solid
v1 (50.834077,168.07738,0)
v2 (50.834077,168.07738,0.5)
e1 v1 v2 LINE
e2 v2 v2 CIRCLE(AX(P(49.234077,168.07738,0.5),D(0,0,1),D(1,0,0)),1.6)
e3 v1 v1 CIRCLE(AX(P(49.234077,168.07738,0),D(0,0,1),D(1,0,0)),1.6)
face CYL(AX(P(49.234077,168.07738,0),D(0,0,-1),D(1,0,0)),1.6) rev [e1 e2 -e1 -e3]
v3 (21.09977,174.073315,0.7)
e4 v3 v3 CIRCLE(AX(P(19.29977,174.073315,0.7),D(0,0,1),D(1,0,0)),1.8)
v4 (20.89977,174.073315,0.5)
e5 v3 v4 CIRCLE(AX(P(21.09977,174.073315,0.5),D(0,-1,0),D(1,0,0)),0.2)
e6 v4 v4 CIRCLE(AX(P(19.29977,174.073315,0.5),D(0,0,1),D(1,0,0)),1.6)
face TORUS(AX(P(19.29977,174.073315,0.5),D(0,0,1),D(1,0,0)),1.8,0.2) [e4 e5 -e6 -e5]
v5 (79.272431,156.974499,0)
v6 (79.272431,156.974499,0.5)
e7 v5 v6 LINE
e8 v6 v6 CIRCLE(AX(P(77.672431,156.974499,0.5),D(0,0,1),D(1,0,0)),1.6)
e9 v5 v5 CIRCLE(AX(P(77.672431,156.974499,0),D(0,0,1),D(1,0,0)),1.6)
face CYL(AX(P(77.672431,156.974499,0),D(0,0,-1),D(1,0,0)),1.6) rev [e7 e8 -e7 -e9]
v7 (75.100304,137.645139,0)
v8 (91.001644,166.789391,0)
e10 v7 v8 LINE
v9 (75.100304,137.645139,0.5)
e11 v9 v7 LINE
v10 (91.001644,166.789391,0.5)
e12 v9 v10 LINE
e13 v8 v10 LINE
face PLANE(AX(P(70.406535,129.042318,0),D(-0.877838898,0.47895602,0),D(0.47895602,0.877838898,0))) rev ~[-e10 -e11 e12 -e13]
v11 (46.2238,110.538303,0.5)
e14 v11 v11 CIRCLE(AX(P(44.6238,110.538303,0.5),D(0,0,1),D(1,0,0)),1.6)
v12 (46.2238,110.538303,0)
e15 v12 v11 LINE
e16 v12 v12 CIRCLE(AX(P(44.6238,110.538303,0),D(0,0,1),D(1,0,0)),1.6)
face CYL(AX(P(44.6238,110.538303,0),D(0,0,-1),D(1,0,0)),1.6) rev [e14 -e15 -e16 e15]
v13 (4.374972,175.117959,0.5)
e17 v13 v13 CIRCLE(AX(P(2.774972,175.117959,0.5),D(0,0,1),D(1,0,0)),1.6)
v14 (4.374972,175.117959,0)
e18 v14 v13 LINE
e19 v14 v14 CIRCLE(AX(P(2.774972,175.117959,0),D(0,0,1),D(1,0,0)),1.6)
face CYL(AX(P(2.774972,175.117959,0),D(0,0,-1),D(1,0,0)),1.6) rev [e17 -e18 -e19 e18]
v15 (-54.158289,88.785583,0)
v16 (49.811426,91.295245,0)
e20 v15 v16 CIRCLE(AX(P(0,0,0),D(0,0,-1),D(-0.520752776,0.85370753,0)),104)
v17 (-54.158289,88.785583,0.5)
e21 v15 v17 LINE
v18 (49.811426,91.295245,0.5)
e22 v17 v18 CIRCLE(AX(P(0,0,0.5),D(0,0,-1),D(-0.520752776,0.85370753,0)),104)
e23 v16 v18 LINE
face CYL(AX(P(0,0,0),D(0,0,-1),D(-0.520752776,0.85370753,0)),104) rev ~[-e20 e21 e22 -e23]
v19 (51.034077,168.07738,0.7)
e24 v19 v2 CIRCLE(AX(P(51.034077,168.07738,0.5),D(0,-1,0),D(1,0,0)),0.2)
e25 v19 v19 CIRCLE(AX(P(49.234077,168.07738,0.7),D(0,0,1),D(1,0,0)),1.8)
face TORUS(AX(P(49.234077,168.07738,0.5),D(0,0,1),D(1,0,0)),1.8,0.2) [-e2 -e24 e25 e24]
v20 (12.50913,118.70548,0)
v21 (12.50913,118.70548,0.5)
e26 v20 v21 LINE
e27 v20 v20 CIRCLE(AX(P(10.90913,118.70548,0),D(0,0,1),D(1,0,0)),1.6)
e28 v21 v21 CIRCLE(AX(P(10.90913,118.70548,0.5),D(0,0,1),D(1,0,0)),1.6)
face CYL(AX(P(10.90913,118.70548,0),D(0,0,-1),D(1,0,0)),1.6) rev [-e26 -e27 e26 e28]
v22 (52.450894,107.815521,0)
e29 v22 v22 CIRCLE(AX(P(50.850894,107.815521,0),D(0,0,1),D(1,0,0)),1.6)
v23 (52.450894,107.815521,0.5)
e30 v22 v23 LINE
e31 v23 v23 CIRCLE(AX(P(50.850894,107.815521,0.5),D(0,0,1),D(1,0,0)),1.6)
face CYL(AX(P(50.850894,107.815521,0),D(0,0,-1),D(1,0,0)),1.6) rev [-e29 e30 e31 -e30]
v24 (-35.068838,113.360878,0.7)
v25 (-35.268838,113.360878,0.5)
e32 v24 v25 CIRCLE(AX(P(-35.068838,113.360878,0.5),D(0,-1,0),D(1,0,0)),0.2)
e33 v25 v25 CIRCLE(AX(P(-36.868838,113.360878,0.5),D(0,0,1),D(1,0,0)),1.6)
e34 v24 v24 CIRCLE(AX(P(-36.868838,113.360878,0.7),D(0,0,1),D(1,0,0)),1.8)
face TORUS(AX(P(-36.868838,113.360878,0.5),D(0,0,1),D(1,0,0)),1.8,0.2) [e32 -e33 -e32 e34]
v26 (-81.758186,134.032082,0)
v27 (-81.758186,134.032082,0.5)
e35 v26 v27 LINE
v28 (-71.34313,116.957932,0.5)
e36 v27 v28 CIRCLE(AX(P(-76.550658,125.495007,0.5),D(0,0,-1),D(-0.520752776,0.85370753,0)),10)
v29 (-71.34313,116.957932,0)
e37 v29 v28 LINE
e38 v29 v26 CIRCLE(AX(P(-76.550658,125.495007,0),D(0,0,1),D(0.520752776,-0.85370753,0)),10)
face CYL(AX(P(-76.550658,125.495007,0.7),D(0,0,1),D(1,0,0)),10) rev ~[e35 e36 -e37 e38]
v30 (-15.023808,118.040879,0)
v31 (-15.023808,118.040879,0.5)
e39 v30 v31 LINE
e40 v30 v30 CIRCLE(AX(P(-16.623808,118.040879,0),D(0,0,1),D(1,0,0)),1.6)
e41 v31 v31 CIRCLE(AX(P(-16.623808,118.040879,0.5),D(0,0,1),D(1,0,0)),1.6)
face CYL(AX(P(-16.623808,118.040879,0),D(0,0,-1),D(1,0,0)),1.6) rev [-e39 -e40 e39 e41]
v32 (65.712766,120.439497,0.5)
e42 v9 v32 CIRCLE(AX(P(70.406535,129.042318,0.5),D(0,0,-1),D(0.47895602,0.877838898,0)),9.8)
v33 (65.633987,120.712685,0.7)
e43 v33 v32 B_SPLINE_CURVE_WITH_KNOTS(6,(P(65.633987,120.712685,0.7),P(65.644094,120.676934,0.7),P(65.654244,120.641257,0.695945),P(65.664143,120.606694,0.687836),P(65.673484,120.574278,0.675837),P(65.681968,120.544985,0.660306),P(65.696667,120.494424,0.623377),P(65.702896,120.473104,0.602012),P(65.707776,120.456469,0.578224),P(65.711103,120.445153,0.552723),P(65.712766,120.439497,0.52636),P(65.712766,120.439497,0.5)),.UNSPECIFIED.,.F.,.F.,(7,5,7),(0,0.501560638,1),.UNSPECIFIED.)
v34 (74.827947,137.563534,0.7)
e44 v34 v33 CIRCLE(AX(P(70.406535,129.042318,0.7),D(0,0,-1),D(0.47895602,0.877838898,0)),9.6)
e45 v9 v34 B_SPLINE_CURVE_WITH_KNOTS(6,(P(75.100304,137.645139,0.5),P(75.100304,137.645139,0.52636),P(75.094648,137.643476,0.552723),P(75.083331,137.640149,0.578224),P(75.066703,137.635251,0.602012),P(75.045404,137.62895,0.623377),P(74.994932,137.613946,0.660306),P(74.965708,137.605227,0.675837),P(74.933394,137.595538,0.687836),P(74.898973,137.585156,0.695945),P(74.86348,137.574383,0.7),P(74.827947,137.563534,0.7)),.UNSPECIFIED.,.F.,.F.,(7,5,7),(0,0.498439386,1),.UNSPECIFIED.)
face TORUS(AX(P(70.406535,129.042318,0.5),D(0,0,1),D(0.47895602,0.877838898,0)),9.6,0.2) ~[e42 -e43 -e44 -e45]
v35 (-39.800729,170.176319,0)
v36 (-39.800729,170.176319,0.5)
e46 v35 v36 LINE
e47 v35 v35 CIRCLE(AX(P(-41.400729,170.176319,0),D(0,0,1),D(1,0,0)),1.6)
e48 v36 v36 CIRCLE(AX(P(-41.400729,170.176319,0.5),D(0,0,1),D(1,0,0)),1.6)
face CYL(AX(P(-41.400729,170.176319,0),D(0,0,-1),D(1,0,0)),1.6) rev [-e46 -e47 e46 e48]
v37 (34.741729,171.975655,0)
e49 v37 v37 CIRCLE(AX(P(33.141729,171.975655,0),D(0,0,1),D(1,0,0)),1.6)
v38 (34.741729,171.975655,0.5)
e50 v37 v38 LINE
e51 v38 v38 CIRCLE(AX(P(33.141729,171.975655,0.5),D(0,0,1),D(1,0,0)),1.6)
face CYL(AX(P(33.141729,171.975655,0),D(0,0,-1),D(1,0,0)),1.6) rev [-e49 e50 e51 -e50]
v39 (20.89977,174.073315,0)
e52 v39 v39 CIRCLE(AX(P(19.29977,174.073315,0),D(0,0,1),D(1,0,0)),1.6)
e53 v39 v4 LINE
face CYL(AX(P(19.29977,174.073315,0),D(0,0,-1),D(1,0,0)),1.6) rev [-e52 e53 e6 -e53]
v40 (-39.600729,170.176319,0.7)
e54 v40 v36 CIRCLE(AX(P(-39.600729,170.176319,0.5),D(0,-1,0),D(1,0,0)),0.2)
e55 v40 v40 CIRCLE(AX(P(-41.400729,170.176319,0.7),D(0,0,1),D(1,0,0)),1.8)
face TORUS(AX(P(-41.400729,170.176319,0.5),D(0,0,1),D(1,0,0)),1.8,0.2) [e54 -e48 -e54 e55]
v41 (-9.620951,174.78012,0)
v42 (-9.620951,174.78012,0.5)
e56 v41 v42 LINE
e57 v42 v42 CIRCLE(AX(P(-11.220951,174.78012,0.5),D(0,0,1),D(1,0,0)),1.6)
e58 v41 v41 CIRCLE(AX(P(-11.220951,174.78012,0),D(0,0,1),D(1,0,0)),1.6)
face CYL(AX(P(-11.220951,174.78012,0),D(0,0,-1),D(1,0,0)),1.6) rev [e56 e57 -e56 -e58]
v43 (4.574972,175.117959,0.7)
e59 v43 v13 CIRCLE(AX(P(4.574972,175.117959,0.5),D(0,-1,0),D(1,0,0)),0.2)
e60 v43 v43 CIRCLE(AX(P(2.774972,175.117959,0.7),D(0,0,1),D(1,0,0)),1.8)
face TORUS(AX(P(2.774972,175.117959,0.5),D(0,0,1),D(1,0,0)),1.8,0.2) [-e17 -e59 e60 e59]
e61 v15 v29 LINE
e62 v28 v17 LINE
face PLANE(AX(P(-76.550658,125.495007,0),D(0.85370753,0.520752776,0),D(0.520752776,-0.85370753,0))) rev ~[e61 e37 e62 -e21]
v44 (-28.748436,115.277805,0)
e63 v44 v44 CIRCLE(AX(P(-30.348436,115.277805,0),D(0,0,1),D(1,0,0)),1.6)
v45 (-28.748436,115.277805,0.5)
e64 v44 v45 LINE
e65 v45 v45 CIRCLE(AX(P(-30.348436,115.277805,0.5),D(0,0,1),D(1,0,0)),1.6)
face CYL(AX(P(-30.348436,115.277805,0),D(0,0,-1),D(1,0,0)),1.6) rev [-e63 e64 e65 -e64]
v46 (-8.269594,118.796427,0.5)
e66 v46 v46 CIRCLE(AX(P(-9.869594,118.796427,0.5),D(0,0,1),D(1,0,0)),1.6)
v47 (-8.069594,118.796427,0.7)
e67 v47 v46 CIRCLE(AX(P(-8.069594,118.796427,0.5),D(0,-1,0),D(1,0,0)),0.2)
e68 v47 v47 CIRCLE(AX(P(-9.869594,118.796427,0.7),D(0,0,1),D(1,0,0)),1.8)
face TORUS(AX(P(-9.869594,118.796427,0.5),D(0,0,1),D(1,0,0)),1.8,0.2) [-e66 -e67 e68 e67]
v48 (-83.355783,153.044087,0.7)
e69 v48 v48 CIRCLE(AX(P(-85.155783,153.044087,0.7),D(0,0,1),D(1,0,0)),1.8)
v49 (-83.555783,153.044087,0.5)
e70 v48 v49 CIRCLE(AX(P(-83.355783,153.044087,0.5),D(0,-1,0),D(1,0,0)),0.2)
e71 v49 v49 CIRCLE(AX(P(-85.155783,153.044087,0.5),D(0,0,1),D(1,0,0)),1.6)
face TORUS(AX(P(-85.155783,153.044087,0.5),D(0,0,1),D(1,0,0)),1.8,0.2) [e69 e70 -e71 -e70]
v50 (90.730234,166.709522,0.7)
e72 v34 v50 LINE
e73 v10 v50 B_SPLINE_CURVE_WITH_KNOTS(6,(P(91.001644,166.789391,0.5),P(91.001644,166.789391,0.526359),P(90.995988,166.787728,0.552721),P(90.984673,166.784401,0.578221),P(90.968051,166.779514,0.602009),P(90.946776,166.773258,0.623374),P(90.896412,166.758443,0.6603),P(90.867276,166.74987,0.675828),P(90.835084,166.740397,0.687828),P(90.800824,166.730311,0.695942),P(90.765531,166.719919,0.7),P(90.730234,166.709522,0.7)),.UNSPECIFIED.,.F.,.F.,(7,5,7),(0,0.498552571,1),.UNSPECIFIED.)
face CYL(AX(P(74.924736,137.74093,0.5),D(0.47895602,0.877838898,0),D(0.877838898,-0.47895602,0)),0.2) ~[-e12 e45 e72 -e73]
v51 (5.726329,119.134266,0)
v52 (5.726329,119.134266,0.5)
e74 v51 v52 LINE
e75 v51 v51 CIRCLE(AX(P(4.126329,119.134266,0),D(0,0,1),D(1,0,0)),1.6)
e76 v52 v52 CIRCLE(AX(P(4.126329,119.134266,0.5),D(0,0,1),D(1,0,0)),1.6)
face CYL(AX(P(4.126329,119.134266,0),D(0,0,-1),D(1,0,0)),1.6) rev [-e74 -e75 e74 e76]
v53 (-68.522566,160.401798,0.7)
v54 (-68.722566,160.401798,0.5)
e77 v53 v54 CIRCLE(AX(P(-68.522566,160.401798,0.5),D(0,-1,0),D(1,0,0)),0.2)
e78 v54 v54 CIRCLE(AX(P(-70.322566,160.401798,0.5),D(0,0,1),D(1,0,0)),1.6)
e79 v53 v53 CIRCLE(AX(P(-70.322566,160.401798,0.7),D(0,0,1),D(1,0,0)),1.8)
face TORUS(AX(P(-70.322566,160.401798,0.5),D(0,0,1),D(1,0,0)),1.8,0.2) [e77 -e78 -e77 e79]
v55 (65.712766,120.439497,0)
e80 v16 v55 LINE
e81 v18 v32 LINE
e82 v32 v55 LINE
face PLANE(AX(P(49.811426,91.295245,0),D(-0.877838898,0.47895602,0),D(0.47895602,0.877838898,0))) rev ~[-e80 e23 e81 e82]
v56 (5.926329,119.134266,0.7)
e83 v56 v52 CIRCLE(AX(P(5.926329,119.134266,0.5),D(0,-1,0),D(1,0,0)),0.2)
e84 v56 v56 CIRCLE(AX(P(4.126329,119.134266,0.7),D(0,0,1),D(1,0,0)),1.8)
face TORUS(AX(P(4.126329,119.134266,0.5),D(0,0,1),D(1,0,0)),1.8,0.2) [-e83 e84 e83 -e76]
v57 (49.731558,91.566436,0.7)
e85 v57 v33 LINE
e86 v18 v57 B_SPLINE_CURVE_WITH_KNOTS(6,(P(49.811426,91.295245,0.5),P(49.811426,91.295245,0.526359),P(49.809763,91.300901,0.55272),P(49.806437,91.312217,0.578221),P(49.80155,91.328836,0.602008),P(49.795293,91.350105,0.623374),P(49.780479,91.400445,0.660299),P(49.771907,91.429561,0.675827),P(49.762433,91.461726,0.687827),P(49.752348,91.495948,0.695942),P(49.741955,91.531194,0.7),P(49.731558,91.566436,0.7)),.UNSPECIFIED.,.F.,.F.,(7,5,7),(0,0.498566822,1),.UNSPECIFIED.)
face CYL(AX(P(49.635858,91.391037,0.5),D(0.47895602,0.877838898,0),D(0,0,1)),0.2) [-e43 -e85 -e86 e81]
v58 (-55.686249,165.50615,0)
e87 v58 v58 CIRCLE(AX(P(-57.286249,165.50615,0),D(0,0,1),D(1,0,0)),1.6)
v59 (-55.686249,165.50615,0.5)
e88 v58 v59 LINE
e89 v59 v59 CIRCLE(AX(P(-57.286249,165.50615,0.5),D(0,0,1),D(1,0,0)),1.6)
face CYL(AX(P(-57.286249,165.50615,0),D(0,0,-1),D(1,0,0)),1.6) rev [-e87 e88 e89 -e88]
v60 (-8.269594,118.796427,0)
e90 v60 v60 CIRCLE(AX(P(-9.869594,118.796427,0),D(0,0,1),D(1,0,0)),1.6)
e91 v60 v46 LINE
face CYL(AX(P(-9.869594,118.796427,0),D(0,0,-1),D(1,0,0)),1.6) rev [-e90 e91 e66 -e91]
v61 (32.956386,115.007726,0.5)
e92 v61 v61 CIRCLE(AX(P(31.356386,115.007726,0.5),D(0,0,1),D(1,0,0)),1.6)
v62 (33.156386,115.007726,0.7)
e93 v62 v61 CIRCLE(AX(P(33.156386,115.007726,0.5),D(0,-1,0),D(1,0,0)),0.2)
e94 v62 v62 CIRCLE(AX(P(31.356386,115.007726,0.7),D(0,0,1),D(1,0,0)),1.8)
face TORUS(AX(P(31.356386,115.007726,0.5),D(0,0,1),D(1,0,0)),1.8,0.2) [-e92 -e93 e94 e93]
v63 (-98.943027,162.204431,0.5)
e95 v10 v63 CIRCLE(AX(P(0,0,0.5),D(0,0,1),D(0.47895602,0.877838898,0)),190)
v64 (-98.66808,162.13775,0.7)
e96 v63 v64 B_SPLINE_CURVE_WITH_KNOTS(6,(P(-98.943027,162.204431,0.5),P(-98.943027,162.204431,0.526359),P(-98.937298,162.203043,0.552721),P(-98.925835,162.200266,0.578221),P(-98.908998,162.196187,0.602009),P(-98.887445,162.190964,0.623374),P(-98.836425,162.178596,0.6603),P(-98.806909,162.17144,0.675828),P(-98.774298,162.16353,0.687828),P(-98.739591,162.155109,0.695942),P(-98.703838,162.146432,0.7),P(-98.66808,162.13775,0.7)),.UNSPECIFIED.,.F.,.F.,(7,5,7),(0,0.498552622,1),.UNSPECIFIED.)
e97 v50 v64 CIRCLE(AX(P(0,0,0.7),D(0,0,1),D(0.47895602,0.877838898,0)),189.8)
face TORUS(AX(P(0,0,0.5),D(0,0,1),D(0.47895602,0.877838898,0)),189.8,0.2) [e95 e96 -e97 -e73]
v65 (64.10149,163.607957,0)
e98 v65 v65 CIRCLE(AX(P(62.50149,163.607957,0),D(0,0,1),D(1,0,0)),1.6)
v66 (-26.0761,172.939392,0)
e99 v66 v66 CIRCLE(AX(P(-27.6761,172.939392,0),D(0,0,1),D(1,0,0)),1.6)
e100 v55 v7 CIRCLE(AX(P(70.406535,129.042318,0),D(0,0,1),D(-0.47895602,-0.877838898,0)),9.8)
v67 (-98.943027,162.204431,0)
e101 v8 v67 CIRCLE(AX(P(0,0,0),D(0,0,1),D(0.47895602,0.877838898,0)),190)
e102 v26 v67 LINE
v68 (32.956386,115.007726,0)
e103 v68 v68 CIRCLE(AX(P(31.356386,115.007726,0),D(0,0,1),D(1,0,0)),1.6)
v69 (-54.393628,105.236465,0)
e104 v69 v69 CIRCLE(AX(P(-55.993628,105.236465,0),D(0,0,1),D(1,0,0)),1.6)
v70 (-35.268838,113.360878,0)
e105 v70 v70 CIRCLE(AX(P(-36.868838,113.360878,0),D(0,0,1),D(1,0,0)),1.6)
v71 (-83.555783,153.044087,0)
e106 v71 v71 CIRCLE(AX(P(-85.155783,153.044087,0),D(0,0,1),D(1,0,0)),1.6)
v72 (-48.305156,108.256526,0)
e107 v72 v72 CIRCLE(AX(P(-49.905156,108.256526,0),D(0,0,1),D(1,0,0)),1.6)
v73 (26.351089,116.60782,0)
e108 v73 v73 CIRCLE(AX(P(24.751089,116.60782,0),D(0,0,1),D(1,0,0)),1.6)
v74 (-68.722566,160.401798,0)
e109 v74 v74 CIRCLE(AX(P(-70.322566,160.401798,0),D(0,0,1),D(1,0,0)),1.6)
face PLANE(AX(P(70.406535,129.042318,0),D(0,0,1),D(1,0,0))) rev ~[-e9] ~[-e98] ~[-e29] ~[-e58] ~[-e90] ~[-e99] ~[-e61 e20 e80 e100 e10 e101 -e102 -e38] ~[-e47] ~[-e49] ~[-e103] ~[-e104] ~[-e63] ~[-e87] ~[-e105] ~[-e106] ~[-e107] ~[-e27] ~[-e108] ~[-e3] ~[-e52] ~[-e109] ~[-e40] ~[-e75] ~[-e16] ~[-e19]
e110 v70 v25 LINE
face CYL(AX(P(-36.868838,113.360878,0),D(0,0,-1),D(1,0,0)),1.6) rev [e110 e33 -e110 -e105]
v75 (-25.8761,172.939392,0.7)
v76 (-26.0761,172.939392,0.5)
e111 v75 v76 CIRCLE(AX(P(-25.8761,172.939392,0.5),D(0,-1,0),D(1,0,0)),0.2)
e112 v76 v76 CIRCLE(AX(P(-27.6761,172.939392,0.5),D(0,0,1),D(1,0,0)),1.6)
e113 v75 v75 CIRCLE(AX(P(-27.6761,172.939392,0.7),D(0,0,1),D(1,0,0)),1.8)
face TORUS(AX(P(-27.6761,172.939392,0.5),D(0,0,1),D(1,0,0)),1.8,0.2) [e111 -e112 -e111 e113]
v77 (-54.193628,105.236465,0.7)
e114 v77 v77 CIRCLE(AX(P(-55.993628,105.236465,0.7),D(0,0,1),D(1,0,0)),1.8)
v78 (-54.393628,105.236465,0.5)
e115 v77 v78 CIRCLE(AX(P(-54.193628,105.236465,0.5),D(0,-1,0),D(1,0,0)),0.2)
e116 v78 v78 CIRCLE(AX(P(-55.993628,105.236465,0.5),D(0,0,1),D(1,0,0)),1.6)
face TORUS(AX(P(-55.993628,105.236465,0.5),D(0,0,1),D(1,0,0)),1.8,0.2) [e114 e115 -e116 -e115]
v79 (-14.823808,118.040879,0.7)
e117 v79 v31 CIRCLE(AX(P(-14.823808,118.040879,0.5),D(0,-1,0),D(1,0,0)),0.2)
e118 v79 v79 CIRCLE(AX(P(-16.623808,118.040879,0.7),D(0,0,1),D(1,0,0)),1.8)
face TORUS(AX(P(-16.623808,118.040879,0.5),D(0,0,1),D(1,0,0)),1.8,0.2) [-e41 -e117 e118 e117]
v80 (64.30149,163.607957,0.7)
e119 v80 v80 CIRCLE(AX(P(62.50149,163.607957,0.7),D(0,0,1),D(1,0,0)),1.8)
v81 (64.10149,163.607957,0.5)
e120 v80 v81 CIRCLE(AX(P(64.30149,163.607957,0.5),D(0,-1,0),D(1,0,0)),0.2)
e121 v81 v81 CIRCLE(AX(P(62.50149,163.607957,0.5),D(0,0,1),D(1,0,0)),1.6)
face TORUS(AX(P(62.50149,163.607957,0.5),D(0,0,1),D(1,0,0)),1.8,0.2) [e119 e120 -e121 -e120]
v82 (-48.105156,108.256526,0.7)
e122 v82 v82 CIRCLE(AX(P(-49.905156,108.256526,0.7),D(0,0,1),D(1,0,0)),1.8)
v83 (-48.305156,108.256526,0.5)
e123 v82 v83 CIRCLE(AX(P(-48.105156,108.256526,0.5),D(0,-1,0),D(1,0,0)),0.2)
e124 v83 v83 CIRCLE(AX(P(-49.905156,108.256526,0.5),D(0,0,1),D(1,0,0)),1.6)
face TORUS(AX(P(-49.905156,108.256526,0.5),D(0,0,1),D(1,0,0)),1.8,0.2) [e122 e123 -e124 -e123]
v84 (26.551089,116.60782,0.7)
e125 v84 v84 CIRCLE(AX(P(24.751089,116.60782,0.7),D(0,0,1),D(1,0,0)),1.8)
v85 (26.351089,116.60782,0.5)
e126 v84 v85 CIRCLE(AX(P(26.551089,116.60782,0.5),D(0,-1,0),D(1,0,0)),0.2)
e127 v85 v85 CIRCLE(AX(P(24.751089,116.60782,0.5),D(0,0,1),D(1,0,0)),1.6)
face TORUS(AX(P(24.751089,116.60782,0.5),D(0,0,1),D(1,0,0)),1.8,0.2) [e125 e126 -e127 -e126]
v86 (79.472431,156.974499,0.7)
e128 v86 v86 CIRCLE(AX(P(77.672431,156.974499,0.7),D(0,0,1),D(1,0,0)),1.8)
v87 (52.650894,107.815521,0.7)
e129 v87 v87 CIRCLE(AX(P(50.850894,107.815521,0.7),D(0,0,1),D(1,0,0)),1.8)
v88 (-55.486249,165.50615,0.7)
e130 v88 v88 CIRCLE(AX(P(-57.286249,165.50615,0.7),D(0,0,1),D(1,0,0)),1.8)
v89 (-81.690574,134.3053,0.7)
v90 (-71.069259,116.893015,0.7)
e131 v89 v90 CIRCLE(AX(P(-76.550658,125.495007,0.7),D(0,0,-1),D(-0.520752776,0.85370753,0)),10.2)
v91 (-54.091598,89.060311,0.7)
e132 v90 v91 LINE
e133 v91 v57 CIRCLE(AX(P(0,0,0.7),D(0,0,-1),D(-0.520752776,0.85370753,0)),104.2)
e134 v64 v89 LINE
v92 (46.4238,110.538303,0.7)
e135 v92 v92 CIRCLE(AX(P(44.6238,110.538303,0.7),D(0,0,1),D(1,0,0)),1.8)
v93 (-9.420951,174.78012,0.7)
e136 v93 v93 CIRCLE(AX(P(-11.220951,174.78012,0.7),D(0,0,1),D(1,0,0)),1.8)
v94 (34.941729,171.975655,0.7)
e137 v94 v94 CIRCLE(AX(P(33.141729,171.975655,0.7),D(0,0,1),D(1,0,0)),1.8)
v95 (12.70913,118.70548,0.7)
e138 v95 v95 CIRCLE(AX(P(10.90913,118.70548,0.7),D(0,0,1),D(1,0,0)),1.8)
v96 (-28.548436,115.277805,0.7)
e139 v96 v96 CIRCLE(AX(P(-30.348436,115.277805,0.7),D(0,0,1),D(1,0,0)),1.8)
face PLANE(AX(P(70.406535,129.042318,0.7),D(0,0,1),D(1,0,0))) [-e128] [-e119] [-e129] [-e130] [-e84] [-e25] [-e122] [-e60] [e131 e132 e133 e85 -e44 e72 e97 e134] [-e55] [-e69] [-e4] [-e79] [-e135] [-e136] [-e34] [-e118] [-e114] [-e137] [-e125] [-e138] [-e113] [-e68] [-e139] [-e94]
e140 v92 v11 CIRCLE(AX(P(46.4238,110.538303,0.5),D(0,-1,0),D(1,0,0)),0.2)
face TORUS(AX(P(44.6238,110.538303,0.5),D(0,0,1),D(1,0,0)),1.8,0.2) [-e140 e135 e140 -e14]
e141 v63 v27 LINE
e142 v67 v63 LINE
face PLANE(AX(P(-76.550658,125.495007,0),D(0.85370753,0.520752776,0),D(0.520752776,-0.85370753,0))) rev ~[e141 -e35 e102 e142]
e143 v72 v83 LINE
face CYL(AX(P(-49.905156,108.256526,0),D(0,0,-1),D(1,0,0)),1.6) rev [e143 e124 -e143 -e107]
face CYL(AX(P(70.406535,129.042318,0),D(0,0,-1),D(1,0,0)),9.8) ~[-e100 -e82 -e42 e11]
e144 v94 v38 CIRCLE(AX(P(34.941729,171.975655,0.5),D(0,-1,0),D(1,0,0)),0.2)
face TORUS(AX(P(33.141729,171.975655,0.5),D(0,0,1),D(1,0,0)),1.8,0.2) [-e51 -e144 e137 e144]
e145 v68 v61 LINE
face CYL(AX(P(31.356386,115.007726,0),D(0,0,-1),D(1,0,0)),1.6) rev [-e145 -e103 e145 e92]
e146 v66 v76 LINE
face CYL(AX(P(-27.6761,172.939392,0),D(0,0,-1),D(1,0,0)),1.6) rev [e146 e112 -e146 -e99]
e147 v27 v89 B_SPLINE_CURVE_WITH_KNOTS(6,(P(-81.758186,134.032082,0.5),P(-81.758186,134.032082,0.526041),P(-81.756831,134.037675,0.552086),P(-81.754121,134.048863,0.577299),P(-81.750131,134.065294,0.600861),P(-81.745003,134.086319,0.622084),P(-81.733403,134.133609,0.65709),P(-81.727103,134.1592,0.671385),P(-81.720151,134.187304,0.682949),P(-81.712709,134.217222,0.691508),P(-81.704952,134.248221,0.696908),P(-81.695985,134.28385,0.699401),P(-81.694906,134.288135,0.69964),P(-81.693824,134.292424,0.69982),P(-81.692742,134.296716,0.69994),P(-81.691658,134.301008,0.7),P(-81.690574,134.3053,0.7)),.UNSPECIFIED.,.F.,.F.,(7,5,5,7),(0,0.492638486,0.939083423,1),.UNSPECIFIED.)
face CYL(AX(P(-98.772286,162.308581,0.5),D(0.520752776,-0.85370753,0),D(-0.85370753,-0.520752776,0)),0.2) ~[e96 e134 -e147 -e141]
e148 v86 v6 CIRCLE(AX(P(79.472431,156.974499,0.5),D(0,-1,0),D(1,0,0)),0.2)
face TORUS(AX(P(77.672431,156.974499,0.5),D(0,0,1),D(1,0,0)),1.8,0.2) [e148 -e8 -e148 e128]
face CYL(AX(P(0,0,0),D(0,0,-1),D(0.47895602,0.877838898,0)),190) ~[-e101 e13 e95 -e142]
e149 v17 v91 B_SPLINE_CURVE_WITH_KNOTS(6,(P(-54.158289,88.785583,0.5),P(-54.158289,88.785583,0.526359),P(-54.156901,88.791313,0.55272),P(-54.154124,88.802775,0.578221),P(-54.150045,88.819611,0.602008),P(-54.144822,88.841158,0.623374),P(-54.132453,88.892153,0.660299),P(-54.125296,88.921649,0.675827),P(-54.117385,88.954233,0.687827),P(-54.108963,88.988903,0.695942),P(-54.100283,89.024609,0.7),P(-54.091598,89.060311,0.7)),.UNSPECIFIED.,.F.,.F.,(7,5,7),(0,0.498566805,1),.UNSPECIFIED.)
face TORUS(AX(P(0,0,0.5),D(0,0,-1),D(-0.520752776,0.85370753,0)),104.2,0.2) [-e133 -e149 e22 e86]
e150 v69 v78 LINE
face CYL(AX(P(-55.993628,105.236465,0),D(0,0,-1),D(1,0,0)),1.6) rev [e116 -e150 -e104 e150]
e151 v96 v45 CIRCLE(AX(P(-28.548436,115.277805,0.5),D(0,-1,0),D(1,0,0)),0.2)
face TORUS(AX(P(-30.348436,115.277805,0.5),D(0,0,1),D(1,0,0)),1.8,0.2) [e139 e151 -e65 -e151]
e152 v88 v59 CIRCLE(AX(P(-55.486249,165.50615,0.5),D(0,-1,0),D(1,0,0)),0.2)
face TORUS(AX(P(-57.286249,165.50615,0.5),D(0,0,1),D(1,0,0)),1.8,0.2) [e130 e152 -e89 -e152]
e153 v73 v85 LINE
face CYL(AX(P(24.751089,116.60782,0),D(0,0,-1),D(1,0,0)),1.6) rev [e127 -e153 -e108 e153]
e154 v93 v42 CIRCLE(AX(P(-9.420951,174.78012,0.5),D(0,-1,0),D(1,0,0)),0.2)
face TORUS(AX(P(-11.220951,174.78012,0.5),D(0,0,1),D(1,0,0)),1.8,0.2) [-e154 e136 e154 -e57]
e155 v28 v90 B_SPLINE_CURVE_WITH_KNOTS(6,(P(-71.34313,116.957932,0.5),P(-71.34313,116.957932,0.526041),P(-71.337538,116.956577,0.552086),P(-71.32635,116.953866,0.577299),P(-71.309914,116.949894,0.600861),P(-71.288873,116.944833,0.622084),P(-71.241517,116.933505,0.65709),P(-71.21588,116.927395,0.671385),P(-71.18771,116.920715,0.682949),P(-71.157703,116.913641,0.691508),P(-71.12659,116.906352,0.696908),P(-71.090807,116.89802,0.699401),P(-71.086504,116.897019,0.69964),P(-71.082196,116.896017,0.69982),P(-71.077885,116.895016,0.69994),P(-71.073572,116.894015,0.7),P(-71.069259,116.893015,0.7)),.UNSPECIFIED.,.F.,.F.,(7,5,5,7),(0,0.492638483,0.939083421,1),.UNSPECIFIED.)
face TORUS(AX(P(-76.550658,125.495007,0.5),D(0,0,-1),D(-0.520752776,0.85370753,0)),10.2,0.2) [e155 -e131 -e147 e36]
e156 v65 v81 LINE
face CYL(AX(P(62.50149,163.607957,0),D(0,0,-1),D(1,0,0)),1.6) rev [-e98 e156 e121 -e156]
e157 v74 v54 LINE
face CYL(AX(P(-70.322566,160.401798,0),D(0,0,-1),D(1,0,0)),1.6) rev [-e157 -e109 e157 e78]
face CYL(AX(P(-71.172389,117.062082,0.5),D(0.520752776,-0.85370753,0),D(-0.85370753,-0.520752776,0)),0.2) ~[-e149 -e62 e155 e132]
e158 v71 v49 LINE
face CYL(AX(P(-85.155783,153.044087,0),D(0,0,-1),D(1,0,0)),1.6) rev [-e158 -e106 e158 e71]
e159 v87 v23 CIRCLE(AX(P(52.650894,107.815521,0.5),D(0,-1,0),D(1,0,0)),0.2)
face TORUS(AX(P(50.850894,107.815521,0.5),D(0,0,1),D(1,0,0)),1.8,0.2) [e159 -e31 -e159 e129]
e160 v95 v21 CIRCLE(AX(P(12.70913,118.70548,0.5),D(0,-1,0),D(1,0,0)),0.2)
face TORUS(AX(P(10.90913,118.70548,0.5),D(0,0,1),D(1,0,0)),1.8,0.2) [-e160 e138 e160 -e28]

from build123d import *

# Parameters (mm, degrees)
SKETCH1_R           = 1.6
BOSS_EXTRUDE1_DEPTH = 0.7
SKETCH2_R           = 10
CUT_EXTRUDE1_DEPTH  = 215.220009974
SKETCH3_R           = 9.8
BOSS_EXTRUDE2_DEPTH = 0.7
FILLET1_R           = 0.2


with BuildPart() as part:
    # Sketch1 → Boss-Extrude1 (new body)
    # profile 1 of 2: a face of its own
    with BuildSketch(Plane.XY):
        with BuildLine():
            Line((-98.94302741, 162.204430664), (-76.550658049, 125.495006882))
            ThreePointArc((-76.550658049, 125.495006882), (-3.547311106, 146.957193032), (70.406534983, 129.042317988))
            Line((70.406534983, 129.042317988), (91.001643856, 166.789390596))
            ThreePointArc((91.001643856, 166.789390596), (-4.584959933, 189.944671266), (-98.94302741, 162.204430664))
        make_face()
        with Locations((-85.155783064, 153.044087147)):
            Circle(SKETCH1_R, mode=Mode.SUBTRACT)
        with Locations((-70.322566445, 160.401797523)):
            Circle(SKETCH1_R, mode=Mode.SUBTRACT)
        with Locations((-57.286248539, 165.506150122)):
            Circle(SKETCH1_R, mode=Mode.SUBTRACT)
        with Locations((-41.400728813, 170.17631931)):
            Circle(SKETCH1_R, mode=Mode.SUBTRACT)
        with Locations((-27.676100341, 172.939392476)):
            Circle(SKETCH1_R, mode=Mode.SUBTRACT)
        with Locations((-11.220950985, 174.780119748)):
            Circle(SKETCH1_R, mode=Mode.SUBTRACT)
        with Locations((2.774972161, 175.117958901)):
            Circle(SKETCH1_R, mode=Mode.SUBTRACT)
        with Locations((19.299769761, 174.07331469)):
            Circle(SKETCH1_R, mode=Mode.SUBTRACT)
        with Locations((33.141728538, 171.975654758)):
            Circle(SKETCH1_R, mode=Mode.SUBTRACT)
        with Locations((62.501490265, 163.60795737)):
            Circle(SKETCH1_R, mode=Mode.SUBTRACT)
        with Locations((77.672431266, 156.97449927)):
            Circle(SKETCH1_R, mode=Mode.SUBTRACT)
        with Locations((49.234076768, 168.077380051)):
            Circle(SKETCH1_R, mode=Mode.SUBTRACT)
    # profile 2 of 2: a face of its own
    with BuildSketch(Plane.XY):
        with BuildLine():
            ThreePointArc((70.406534983, 129.042317988), (-3.547311106, 146.957193032), (-76.550658049, 125.495006882))
            Line((-76.550658049, 125.495006882), (-54.158288688, 88.7855831))
            ThreePointArc((-54.158288688, 88.7855831), (-2.509662279, 103.969714798), (49.811426111, 91.295245379))
            Line((49.811426111, 91.295245379), (70.406534983, 129.042317988))
        make_face()
        with Locations((-55.993627617, 105.236465478)):
            Circle(SKETCH1_R, mode=Mode.SUBTRACT)
        with Locations((-49.905156048, 108.2565259)):
            Circle(SKETCH1_R, mode=Mode.SUBTRACT)
        with Locations((-36.868838142, 113.360878499)):
            Circle(SKETCH1_R, mode=Mode.SUBTRACT)
        with Locations((-30.348436148, 115.277805424)):
            Circle(SKETCH1_R, mode=Mode.SUBTRACT)
        with Locations((-16.623807677, 118.04087859)):
            Circle(SKETCH1_R, mode=Mode.SUBTRACT)
        with Locations((-9.869594373, 118.796427164)):
            Circle(SKETCH1_R, mode=Mode.SUBTRACT)
        with Locations((10.909130033, 118.705479578)):
            Circle(SKETCH1_R, mode=Mode.SUBTRACT)
        with Locations((24.751088811, 116.607819646)):
            Circle(SKETCH1_R, mode=Mode.SUBTRACT)
        with Locations((31.356386043, 115.007726064)):
            Circle(SKETCH1_R, mode=Mode.SUBTRACT)
        with Locations((44.623799539, 110.538303382)):
            Circle(SKETCH1_R, mode=Mode.SUBTRACT)
        with Locations((4.126328773, 119.134266317)):
            Circle(SKETCH1_R, mode=Mode.SUBTRACT)
        with Locations((50.85089413, 107.815520989)):
            Circle(SKETCH1_R, mode=Mode.SUBTRACT)
    extrude(amount=BOSS_EXTRUDE1_DEPTH)

    # Sketch2 → Cut-Extrude1 (cut, through all)
    with BuildSketch(Plane.XY.offset(0.7)):
        with Locations((-76.550658049, 125.495006882)):
            Circle(SKETCH2_R)
    extrude(amount=-CUT_EXTRUDE1_DEPTH, mode=Mode.SUBTRACT)

    # Sketch3 → Boss-Extrude2 (add)
    with BuildSketch(Plane.XY):
        with Locations((70.406534983, 129.042317988)):
            Circle(SKETCH3_R)
    extrude(amount=BOSS_EXTRUDE2_DEPTH)

    # Fillet1
    fillet1_edges = [part.edges().sort_by_distance(p)[0] for p in [
        (9.309130033, 118.705479578, 0.7),
        (-18.223807677, 118.04087859, 0.7),
        (-31.948436148, 115.277805424, 0.7),
        (-57.593627617, 105.236465478, 0.7),
        (-51.505156048, 108.2565259, 0.7),
        (-38.468838142, 113.360878499, 0.7),
        (-11.469594373, 118.796427164, 0.7),
        (2.526328773, 119.134266317, 0.7),
        (29.756386043, 115.007726064, 0.7),
        (43.023799539, 110.538303382, 0.7),
        (47.634076768, 168.077380051, 0.7),
        (60.901490265, 163.60795737, 0.7),
        (-12.820950985, 174.780119748, 0.7),
        (1.174972161, 175.117958901, 0.7),
        (-71.922566445, 160.401797523, 0.7),
        (-58.886248539, 165.506150122, 0.7),
        (-62.750709489, 102.871757342, 0.7),
        (-2.509662279, 103.969714798, 0.7),
        (57.762096047, 105.867371084, 0.7),
        (-4.584959933, 189.944671266, 0.7),
        (-86.755783064, 153.044087147, 0.7),
        (-29.276100341, 172.939392476, 0.7),
        (-43.000728813, 170.17631931, 0.7),
        (31.541728538, 171.975654758, 0.7),
        (-90.350606609, 148.118256422, 0.7),
        (17.699769761, 174.07331469, 0.7),
        (-68.013582751, 130.70253464, 0.7),
        (76.072431266, 156.97449927, 0.7),
        (49.25089413, 107.815520989, 0.7),
        (83.050973919, 152.217264892, 0.7),
        (79.009356182, 124.348548989, 0.7),
        (23.151088811, 116.607819646, 0.7),
    ]]
    fillet(fillet1_edges, radius=FILLET1_R)


solid = part.part
